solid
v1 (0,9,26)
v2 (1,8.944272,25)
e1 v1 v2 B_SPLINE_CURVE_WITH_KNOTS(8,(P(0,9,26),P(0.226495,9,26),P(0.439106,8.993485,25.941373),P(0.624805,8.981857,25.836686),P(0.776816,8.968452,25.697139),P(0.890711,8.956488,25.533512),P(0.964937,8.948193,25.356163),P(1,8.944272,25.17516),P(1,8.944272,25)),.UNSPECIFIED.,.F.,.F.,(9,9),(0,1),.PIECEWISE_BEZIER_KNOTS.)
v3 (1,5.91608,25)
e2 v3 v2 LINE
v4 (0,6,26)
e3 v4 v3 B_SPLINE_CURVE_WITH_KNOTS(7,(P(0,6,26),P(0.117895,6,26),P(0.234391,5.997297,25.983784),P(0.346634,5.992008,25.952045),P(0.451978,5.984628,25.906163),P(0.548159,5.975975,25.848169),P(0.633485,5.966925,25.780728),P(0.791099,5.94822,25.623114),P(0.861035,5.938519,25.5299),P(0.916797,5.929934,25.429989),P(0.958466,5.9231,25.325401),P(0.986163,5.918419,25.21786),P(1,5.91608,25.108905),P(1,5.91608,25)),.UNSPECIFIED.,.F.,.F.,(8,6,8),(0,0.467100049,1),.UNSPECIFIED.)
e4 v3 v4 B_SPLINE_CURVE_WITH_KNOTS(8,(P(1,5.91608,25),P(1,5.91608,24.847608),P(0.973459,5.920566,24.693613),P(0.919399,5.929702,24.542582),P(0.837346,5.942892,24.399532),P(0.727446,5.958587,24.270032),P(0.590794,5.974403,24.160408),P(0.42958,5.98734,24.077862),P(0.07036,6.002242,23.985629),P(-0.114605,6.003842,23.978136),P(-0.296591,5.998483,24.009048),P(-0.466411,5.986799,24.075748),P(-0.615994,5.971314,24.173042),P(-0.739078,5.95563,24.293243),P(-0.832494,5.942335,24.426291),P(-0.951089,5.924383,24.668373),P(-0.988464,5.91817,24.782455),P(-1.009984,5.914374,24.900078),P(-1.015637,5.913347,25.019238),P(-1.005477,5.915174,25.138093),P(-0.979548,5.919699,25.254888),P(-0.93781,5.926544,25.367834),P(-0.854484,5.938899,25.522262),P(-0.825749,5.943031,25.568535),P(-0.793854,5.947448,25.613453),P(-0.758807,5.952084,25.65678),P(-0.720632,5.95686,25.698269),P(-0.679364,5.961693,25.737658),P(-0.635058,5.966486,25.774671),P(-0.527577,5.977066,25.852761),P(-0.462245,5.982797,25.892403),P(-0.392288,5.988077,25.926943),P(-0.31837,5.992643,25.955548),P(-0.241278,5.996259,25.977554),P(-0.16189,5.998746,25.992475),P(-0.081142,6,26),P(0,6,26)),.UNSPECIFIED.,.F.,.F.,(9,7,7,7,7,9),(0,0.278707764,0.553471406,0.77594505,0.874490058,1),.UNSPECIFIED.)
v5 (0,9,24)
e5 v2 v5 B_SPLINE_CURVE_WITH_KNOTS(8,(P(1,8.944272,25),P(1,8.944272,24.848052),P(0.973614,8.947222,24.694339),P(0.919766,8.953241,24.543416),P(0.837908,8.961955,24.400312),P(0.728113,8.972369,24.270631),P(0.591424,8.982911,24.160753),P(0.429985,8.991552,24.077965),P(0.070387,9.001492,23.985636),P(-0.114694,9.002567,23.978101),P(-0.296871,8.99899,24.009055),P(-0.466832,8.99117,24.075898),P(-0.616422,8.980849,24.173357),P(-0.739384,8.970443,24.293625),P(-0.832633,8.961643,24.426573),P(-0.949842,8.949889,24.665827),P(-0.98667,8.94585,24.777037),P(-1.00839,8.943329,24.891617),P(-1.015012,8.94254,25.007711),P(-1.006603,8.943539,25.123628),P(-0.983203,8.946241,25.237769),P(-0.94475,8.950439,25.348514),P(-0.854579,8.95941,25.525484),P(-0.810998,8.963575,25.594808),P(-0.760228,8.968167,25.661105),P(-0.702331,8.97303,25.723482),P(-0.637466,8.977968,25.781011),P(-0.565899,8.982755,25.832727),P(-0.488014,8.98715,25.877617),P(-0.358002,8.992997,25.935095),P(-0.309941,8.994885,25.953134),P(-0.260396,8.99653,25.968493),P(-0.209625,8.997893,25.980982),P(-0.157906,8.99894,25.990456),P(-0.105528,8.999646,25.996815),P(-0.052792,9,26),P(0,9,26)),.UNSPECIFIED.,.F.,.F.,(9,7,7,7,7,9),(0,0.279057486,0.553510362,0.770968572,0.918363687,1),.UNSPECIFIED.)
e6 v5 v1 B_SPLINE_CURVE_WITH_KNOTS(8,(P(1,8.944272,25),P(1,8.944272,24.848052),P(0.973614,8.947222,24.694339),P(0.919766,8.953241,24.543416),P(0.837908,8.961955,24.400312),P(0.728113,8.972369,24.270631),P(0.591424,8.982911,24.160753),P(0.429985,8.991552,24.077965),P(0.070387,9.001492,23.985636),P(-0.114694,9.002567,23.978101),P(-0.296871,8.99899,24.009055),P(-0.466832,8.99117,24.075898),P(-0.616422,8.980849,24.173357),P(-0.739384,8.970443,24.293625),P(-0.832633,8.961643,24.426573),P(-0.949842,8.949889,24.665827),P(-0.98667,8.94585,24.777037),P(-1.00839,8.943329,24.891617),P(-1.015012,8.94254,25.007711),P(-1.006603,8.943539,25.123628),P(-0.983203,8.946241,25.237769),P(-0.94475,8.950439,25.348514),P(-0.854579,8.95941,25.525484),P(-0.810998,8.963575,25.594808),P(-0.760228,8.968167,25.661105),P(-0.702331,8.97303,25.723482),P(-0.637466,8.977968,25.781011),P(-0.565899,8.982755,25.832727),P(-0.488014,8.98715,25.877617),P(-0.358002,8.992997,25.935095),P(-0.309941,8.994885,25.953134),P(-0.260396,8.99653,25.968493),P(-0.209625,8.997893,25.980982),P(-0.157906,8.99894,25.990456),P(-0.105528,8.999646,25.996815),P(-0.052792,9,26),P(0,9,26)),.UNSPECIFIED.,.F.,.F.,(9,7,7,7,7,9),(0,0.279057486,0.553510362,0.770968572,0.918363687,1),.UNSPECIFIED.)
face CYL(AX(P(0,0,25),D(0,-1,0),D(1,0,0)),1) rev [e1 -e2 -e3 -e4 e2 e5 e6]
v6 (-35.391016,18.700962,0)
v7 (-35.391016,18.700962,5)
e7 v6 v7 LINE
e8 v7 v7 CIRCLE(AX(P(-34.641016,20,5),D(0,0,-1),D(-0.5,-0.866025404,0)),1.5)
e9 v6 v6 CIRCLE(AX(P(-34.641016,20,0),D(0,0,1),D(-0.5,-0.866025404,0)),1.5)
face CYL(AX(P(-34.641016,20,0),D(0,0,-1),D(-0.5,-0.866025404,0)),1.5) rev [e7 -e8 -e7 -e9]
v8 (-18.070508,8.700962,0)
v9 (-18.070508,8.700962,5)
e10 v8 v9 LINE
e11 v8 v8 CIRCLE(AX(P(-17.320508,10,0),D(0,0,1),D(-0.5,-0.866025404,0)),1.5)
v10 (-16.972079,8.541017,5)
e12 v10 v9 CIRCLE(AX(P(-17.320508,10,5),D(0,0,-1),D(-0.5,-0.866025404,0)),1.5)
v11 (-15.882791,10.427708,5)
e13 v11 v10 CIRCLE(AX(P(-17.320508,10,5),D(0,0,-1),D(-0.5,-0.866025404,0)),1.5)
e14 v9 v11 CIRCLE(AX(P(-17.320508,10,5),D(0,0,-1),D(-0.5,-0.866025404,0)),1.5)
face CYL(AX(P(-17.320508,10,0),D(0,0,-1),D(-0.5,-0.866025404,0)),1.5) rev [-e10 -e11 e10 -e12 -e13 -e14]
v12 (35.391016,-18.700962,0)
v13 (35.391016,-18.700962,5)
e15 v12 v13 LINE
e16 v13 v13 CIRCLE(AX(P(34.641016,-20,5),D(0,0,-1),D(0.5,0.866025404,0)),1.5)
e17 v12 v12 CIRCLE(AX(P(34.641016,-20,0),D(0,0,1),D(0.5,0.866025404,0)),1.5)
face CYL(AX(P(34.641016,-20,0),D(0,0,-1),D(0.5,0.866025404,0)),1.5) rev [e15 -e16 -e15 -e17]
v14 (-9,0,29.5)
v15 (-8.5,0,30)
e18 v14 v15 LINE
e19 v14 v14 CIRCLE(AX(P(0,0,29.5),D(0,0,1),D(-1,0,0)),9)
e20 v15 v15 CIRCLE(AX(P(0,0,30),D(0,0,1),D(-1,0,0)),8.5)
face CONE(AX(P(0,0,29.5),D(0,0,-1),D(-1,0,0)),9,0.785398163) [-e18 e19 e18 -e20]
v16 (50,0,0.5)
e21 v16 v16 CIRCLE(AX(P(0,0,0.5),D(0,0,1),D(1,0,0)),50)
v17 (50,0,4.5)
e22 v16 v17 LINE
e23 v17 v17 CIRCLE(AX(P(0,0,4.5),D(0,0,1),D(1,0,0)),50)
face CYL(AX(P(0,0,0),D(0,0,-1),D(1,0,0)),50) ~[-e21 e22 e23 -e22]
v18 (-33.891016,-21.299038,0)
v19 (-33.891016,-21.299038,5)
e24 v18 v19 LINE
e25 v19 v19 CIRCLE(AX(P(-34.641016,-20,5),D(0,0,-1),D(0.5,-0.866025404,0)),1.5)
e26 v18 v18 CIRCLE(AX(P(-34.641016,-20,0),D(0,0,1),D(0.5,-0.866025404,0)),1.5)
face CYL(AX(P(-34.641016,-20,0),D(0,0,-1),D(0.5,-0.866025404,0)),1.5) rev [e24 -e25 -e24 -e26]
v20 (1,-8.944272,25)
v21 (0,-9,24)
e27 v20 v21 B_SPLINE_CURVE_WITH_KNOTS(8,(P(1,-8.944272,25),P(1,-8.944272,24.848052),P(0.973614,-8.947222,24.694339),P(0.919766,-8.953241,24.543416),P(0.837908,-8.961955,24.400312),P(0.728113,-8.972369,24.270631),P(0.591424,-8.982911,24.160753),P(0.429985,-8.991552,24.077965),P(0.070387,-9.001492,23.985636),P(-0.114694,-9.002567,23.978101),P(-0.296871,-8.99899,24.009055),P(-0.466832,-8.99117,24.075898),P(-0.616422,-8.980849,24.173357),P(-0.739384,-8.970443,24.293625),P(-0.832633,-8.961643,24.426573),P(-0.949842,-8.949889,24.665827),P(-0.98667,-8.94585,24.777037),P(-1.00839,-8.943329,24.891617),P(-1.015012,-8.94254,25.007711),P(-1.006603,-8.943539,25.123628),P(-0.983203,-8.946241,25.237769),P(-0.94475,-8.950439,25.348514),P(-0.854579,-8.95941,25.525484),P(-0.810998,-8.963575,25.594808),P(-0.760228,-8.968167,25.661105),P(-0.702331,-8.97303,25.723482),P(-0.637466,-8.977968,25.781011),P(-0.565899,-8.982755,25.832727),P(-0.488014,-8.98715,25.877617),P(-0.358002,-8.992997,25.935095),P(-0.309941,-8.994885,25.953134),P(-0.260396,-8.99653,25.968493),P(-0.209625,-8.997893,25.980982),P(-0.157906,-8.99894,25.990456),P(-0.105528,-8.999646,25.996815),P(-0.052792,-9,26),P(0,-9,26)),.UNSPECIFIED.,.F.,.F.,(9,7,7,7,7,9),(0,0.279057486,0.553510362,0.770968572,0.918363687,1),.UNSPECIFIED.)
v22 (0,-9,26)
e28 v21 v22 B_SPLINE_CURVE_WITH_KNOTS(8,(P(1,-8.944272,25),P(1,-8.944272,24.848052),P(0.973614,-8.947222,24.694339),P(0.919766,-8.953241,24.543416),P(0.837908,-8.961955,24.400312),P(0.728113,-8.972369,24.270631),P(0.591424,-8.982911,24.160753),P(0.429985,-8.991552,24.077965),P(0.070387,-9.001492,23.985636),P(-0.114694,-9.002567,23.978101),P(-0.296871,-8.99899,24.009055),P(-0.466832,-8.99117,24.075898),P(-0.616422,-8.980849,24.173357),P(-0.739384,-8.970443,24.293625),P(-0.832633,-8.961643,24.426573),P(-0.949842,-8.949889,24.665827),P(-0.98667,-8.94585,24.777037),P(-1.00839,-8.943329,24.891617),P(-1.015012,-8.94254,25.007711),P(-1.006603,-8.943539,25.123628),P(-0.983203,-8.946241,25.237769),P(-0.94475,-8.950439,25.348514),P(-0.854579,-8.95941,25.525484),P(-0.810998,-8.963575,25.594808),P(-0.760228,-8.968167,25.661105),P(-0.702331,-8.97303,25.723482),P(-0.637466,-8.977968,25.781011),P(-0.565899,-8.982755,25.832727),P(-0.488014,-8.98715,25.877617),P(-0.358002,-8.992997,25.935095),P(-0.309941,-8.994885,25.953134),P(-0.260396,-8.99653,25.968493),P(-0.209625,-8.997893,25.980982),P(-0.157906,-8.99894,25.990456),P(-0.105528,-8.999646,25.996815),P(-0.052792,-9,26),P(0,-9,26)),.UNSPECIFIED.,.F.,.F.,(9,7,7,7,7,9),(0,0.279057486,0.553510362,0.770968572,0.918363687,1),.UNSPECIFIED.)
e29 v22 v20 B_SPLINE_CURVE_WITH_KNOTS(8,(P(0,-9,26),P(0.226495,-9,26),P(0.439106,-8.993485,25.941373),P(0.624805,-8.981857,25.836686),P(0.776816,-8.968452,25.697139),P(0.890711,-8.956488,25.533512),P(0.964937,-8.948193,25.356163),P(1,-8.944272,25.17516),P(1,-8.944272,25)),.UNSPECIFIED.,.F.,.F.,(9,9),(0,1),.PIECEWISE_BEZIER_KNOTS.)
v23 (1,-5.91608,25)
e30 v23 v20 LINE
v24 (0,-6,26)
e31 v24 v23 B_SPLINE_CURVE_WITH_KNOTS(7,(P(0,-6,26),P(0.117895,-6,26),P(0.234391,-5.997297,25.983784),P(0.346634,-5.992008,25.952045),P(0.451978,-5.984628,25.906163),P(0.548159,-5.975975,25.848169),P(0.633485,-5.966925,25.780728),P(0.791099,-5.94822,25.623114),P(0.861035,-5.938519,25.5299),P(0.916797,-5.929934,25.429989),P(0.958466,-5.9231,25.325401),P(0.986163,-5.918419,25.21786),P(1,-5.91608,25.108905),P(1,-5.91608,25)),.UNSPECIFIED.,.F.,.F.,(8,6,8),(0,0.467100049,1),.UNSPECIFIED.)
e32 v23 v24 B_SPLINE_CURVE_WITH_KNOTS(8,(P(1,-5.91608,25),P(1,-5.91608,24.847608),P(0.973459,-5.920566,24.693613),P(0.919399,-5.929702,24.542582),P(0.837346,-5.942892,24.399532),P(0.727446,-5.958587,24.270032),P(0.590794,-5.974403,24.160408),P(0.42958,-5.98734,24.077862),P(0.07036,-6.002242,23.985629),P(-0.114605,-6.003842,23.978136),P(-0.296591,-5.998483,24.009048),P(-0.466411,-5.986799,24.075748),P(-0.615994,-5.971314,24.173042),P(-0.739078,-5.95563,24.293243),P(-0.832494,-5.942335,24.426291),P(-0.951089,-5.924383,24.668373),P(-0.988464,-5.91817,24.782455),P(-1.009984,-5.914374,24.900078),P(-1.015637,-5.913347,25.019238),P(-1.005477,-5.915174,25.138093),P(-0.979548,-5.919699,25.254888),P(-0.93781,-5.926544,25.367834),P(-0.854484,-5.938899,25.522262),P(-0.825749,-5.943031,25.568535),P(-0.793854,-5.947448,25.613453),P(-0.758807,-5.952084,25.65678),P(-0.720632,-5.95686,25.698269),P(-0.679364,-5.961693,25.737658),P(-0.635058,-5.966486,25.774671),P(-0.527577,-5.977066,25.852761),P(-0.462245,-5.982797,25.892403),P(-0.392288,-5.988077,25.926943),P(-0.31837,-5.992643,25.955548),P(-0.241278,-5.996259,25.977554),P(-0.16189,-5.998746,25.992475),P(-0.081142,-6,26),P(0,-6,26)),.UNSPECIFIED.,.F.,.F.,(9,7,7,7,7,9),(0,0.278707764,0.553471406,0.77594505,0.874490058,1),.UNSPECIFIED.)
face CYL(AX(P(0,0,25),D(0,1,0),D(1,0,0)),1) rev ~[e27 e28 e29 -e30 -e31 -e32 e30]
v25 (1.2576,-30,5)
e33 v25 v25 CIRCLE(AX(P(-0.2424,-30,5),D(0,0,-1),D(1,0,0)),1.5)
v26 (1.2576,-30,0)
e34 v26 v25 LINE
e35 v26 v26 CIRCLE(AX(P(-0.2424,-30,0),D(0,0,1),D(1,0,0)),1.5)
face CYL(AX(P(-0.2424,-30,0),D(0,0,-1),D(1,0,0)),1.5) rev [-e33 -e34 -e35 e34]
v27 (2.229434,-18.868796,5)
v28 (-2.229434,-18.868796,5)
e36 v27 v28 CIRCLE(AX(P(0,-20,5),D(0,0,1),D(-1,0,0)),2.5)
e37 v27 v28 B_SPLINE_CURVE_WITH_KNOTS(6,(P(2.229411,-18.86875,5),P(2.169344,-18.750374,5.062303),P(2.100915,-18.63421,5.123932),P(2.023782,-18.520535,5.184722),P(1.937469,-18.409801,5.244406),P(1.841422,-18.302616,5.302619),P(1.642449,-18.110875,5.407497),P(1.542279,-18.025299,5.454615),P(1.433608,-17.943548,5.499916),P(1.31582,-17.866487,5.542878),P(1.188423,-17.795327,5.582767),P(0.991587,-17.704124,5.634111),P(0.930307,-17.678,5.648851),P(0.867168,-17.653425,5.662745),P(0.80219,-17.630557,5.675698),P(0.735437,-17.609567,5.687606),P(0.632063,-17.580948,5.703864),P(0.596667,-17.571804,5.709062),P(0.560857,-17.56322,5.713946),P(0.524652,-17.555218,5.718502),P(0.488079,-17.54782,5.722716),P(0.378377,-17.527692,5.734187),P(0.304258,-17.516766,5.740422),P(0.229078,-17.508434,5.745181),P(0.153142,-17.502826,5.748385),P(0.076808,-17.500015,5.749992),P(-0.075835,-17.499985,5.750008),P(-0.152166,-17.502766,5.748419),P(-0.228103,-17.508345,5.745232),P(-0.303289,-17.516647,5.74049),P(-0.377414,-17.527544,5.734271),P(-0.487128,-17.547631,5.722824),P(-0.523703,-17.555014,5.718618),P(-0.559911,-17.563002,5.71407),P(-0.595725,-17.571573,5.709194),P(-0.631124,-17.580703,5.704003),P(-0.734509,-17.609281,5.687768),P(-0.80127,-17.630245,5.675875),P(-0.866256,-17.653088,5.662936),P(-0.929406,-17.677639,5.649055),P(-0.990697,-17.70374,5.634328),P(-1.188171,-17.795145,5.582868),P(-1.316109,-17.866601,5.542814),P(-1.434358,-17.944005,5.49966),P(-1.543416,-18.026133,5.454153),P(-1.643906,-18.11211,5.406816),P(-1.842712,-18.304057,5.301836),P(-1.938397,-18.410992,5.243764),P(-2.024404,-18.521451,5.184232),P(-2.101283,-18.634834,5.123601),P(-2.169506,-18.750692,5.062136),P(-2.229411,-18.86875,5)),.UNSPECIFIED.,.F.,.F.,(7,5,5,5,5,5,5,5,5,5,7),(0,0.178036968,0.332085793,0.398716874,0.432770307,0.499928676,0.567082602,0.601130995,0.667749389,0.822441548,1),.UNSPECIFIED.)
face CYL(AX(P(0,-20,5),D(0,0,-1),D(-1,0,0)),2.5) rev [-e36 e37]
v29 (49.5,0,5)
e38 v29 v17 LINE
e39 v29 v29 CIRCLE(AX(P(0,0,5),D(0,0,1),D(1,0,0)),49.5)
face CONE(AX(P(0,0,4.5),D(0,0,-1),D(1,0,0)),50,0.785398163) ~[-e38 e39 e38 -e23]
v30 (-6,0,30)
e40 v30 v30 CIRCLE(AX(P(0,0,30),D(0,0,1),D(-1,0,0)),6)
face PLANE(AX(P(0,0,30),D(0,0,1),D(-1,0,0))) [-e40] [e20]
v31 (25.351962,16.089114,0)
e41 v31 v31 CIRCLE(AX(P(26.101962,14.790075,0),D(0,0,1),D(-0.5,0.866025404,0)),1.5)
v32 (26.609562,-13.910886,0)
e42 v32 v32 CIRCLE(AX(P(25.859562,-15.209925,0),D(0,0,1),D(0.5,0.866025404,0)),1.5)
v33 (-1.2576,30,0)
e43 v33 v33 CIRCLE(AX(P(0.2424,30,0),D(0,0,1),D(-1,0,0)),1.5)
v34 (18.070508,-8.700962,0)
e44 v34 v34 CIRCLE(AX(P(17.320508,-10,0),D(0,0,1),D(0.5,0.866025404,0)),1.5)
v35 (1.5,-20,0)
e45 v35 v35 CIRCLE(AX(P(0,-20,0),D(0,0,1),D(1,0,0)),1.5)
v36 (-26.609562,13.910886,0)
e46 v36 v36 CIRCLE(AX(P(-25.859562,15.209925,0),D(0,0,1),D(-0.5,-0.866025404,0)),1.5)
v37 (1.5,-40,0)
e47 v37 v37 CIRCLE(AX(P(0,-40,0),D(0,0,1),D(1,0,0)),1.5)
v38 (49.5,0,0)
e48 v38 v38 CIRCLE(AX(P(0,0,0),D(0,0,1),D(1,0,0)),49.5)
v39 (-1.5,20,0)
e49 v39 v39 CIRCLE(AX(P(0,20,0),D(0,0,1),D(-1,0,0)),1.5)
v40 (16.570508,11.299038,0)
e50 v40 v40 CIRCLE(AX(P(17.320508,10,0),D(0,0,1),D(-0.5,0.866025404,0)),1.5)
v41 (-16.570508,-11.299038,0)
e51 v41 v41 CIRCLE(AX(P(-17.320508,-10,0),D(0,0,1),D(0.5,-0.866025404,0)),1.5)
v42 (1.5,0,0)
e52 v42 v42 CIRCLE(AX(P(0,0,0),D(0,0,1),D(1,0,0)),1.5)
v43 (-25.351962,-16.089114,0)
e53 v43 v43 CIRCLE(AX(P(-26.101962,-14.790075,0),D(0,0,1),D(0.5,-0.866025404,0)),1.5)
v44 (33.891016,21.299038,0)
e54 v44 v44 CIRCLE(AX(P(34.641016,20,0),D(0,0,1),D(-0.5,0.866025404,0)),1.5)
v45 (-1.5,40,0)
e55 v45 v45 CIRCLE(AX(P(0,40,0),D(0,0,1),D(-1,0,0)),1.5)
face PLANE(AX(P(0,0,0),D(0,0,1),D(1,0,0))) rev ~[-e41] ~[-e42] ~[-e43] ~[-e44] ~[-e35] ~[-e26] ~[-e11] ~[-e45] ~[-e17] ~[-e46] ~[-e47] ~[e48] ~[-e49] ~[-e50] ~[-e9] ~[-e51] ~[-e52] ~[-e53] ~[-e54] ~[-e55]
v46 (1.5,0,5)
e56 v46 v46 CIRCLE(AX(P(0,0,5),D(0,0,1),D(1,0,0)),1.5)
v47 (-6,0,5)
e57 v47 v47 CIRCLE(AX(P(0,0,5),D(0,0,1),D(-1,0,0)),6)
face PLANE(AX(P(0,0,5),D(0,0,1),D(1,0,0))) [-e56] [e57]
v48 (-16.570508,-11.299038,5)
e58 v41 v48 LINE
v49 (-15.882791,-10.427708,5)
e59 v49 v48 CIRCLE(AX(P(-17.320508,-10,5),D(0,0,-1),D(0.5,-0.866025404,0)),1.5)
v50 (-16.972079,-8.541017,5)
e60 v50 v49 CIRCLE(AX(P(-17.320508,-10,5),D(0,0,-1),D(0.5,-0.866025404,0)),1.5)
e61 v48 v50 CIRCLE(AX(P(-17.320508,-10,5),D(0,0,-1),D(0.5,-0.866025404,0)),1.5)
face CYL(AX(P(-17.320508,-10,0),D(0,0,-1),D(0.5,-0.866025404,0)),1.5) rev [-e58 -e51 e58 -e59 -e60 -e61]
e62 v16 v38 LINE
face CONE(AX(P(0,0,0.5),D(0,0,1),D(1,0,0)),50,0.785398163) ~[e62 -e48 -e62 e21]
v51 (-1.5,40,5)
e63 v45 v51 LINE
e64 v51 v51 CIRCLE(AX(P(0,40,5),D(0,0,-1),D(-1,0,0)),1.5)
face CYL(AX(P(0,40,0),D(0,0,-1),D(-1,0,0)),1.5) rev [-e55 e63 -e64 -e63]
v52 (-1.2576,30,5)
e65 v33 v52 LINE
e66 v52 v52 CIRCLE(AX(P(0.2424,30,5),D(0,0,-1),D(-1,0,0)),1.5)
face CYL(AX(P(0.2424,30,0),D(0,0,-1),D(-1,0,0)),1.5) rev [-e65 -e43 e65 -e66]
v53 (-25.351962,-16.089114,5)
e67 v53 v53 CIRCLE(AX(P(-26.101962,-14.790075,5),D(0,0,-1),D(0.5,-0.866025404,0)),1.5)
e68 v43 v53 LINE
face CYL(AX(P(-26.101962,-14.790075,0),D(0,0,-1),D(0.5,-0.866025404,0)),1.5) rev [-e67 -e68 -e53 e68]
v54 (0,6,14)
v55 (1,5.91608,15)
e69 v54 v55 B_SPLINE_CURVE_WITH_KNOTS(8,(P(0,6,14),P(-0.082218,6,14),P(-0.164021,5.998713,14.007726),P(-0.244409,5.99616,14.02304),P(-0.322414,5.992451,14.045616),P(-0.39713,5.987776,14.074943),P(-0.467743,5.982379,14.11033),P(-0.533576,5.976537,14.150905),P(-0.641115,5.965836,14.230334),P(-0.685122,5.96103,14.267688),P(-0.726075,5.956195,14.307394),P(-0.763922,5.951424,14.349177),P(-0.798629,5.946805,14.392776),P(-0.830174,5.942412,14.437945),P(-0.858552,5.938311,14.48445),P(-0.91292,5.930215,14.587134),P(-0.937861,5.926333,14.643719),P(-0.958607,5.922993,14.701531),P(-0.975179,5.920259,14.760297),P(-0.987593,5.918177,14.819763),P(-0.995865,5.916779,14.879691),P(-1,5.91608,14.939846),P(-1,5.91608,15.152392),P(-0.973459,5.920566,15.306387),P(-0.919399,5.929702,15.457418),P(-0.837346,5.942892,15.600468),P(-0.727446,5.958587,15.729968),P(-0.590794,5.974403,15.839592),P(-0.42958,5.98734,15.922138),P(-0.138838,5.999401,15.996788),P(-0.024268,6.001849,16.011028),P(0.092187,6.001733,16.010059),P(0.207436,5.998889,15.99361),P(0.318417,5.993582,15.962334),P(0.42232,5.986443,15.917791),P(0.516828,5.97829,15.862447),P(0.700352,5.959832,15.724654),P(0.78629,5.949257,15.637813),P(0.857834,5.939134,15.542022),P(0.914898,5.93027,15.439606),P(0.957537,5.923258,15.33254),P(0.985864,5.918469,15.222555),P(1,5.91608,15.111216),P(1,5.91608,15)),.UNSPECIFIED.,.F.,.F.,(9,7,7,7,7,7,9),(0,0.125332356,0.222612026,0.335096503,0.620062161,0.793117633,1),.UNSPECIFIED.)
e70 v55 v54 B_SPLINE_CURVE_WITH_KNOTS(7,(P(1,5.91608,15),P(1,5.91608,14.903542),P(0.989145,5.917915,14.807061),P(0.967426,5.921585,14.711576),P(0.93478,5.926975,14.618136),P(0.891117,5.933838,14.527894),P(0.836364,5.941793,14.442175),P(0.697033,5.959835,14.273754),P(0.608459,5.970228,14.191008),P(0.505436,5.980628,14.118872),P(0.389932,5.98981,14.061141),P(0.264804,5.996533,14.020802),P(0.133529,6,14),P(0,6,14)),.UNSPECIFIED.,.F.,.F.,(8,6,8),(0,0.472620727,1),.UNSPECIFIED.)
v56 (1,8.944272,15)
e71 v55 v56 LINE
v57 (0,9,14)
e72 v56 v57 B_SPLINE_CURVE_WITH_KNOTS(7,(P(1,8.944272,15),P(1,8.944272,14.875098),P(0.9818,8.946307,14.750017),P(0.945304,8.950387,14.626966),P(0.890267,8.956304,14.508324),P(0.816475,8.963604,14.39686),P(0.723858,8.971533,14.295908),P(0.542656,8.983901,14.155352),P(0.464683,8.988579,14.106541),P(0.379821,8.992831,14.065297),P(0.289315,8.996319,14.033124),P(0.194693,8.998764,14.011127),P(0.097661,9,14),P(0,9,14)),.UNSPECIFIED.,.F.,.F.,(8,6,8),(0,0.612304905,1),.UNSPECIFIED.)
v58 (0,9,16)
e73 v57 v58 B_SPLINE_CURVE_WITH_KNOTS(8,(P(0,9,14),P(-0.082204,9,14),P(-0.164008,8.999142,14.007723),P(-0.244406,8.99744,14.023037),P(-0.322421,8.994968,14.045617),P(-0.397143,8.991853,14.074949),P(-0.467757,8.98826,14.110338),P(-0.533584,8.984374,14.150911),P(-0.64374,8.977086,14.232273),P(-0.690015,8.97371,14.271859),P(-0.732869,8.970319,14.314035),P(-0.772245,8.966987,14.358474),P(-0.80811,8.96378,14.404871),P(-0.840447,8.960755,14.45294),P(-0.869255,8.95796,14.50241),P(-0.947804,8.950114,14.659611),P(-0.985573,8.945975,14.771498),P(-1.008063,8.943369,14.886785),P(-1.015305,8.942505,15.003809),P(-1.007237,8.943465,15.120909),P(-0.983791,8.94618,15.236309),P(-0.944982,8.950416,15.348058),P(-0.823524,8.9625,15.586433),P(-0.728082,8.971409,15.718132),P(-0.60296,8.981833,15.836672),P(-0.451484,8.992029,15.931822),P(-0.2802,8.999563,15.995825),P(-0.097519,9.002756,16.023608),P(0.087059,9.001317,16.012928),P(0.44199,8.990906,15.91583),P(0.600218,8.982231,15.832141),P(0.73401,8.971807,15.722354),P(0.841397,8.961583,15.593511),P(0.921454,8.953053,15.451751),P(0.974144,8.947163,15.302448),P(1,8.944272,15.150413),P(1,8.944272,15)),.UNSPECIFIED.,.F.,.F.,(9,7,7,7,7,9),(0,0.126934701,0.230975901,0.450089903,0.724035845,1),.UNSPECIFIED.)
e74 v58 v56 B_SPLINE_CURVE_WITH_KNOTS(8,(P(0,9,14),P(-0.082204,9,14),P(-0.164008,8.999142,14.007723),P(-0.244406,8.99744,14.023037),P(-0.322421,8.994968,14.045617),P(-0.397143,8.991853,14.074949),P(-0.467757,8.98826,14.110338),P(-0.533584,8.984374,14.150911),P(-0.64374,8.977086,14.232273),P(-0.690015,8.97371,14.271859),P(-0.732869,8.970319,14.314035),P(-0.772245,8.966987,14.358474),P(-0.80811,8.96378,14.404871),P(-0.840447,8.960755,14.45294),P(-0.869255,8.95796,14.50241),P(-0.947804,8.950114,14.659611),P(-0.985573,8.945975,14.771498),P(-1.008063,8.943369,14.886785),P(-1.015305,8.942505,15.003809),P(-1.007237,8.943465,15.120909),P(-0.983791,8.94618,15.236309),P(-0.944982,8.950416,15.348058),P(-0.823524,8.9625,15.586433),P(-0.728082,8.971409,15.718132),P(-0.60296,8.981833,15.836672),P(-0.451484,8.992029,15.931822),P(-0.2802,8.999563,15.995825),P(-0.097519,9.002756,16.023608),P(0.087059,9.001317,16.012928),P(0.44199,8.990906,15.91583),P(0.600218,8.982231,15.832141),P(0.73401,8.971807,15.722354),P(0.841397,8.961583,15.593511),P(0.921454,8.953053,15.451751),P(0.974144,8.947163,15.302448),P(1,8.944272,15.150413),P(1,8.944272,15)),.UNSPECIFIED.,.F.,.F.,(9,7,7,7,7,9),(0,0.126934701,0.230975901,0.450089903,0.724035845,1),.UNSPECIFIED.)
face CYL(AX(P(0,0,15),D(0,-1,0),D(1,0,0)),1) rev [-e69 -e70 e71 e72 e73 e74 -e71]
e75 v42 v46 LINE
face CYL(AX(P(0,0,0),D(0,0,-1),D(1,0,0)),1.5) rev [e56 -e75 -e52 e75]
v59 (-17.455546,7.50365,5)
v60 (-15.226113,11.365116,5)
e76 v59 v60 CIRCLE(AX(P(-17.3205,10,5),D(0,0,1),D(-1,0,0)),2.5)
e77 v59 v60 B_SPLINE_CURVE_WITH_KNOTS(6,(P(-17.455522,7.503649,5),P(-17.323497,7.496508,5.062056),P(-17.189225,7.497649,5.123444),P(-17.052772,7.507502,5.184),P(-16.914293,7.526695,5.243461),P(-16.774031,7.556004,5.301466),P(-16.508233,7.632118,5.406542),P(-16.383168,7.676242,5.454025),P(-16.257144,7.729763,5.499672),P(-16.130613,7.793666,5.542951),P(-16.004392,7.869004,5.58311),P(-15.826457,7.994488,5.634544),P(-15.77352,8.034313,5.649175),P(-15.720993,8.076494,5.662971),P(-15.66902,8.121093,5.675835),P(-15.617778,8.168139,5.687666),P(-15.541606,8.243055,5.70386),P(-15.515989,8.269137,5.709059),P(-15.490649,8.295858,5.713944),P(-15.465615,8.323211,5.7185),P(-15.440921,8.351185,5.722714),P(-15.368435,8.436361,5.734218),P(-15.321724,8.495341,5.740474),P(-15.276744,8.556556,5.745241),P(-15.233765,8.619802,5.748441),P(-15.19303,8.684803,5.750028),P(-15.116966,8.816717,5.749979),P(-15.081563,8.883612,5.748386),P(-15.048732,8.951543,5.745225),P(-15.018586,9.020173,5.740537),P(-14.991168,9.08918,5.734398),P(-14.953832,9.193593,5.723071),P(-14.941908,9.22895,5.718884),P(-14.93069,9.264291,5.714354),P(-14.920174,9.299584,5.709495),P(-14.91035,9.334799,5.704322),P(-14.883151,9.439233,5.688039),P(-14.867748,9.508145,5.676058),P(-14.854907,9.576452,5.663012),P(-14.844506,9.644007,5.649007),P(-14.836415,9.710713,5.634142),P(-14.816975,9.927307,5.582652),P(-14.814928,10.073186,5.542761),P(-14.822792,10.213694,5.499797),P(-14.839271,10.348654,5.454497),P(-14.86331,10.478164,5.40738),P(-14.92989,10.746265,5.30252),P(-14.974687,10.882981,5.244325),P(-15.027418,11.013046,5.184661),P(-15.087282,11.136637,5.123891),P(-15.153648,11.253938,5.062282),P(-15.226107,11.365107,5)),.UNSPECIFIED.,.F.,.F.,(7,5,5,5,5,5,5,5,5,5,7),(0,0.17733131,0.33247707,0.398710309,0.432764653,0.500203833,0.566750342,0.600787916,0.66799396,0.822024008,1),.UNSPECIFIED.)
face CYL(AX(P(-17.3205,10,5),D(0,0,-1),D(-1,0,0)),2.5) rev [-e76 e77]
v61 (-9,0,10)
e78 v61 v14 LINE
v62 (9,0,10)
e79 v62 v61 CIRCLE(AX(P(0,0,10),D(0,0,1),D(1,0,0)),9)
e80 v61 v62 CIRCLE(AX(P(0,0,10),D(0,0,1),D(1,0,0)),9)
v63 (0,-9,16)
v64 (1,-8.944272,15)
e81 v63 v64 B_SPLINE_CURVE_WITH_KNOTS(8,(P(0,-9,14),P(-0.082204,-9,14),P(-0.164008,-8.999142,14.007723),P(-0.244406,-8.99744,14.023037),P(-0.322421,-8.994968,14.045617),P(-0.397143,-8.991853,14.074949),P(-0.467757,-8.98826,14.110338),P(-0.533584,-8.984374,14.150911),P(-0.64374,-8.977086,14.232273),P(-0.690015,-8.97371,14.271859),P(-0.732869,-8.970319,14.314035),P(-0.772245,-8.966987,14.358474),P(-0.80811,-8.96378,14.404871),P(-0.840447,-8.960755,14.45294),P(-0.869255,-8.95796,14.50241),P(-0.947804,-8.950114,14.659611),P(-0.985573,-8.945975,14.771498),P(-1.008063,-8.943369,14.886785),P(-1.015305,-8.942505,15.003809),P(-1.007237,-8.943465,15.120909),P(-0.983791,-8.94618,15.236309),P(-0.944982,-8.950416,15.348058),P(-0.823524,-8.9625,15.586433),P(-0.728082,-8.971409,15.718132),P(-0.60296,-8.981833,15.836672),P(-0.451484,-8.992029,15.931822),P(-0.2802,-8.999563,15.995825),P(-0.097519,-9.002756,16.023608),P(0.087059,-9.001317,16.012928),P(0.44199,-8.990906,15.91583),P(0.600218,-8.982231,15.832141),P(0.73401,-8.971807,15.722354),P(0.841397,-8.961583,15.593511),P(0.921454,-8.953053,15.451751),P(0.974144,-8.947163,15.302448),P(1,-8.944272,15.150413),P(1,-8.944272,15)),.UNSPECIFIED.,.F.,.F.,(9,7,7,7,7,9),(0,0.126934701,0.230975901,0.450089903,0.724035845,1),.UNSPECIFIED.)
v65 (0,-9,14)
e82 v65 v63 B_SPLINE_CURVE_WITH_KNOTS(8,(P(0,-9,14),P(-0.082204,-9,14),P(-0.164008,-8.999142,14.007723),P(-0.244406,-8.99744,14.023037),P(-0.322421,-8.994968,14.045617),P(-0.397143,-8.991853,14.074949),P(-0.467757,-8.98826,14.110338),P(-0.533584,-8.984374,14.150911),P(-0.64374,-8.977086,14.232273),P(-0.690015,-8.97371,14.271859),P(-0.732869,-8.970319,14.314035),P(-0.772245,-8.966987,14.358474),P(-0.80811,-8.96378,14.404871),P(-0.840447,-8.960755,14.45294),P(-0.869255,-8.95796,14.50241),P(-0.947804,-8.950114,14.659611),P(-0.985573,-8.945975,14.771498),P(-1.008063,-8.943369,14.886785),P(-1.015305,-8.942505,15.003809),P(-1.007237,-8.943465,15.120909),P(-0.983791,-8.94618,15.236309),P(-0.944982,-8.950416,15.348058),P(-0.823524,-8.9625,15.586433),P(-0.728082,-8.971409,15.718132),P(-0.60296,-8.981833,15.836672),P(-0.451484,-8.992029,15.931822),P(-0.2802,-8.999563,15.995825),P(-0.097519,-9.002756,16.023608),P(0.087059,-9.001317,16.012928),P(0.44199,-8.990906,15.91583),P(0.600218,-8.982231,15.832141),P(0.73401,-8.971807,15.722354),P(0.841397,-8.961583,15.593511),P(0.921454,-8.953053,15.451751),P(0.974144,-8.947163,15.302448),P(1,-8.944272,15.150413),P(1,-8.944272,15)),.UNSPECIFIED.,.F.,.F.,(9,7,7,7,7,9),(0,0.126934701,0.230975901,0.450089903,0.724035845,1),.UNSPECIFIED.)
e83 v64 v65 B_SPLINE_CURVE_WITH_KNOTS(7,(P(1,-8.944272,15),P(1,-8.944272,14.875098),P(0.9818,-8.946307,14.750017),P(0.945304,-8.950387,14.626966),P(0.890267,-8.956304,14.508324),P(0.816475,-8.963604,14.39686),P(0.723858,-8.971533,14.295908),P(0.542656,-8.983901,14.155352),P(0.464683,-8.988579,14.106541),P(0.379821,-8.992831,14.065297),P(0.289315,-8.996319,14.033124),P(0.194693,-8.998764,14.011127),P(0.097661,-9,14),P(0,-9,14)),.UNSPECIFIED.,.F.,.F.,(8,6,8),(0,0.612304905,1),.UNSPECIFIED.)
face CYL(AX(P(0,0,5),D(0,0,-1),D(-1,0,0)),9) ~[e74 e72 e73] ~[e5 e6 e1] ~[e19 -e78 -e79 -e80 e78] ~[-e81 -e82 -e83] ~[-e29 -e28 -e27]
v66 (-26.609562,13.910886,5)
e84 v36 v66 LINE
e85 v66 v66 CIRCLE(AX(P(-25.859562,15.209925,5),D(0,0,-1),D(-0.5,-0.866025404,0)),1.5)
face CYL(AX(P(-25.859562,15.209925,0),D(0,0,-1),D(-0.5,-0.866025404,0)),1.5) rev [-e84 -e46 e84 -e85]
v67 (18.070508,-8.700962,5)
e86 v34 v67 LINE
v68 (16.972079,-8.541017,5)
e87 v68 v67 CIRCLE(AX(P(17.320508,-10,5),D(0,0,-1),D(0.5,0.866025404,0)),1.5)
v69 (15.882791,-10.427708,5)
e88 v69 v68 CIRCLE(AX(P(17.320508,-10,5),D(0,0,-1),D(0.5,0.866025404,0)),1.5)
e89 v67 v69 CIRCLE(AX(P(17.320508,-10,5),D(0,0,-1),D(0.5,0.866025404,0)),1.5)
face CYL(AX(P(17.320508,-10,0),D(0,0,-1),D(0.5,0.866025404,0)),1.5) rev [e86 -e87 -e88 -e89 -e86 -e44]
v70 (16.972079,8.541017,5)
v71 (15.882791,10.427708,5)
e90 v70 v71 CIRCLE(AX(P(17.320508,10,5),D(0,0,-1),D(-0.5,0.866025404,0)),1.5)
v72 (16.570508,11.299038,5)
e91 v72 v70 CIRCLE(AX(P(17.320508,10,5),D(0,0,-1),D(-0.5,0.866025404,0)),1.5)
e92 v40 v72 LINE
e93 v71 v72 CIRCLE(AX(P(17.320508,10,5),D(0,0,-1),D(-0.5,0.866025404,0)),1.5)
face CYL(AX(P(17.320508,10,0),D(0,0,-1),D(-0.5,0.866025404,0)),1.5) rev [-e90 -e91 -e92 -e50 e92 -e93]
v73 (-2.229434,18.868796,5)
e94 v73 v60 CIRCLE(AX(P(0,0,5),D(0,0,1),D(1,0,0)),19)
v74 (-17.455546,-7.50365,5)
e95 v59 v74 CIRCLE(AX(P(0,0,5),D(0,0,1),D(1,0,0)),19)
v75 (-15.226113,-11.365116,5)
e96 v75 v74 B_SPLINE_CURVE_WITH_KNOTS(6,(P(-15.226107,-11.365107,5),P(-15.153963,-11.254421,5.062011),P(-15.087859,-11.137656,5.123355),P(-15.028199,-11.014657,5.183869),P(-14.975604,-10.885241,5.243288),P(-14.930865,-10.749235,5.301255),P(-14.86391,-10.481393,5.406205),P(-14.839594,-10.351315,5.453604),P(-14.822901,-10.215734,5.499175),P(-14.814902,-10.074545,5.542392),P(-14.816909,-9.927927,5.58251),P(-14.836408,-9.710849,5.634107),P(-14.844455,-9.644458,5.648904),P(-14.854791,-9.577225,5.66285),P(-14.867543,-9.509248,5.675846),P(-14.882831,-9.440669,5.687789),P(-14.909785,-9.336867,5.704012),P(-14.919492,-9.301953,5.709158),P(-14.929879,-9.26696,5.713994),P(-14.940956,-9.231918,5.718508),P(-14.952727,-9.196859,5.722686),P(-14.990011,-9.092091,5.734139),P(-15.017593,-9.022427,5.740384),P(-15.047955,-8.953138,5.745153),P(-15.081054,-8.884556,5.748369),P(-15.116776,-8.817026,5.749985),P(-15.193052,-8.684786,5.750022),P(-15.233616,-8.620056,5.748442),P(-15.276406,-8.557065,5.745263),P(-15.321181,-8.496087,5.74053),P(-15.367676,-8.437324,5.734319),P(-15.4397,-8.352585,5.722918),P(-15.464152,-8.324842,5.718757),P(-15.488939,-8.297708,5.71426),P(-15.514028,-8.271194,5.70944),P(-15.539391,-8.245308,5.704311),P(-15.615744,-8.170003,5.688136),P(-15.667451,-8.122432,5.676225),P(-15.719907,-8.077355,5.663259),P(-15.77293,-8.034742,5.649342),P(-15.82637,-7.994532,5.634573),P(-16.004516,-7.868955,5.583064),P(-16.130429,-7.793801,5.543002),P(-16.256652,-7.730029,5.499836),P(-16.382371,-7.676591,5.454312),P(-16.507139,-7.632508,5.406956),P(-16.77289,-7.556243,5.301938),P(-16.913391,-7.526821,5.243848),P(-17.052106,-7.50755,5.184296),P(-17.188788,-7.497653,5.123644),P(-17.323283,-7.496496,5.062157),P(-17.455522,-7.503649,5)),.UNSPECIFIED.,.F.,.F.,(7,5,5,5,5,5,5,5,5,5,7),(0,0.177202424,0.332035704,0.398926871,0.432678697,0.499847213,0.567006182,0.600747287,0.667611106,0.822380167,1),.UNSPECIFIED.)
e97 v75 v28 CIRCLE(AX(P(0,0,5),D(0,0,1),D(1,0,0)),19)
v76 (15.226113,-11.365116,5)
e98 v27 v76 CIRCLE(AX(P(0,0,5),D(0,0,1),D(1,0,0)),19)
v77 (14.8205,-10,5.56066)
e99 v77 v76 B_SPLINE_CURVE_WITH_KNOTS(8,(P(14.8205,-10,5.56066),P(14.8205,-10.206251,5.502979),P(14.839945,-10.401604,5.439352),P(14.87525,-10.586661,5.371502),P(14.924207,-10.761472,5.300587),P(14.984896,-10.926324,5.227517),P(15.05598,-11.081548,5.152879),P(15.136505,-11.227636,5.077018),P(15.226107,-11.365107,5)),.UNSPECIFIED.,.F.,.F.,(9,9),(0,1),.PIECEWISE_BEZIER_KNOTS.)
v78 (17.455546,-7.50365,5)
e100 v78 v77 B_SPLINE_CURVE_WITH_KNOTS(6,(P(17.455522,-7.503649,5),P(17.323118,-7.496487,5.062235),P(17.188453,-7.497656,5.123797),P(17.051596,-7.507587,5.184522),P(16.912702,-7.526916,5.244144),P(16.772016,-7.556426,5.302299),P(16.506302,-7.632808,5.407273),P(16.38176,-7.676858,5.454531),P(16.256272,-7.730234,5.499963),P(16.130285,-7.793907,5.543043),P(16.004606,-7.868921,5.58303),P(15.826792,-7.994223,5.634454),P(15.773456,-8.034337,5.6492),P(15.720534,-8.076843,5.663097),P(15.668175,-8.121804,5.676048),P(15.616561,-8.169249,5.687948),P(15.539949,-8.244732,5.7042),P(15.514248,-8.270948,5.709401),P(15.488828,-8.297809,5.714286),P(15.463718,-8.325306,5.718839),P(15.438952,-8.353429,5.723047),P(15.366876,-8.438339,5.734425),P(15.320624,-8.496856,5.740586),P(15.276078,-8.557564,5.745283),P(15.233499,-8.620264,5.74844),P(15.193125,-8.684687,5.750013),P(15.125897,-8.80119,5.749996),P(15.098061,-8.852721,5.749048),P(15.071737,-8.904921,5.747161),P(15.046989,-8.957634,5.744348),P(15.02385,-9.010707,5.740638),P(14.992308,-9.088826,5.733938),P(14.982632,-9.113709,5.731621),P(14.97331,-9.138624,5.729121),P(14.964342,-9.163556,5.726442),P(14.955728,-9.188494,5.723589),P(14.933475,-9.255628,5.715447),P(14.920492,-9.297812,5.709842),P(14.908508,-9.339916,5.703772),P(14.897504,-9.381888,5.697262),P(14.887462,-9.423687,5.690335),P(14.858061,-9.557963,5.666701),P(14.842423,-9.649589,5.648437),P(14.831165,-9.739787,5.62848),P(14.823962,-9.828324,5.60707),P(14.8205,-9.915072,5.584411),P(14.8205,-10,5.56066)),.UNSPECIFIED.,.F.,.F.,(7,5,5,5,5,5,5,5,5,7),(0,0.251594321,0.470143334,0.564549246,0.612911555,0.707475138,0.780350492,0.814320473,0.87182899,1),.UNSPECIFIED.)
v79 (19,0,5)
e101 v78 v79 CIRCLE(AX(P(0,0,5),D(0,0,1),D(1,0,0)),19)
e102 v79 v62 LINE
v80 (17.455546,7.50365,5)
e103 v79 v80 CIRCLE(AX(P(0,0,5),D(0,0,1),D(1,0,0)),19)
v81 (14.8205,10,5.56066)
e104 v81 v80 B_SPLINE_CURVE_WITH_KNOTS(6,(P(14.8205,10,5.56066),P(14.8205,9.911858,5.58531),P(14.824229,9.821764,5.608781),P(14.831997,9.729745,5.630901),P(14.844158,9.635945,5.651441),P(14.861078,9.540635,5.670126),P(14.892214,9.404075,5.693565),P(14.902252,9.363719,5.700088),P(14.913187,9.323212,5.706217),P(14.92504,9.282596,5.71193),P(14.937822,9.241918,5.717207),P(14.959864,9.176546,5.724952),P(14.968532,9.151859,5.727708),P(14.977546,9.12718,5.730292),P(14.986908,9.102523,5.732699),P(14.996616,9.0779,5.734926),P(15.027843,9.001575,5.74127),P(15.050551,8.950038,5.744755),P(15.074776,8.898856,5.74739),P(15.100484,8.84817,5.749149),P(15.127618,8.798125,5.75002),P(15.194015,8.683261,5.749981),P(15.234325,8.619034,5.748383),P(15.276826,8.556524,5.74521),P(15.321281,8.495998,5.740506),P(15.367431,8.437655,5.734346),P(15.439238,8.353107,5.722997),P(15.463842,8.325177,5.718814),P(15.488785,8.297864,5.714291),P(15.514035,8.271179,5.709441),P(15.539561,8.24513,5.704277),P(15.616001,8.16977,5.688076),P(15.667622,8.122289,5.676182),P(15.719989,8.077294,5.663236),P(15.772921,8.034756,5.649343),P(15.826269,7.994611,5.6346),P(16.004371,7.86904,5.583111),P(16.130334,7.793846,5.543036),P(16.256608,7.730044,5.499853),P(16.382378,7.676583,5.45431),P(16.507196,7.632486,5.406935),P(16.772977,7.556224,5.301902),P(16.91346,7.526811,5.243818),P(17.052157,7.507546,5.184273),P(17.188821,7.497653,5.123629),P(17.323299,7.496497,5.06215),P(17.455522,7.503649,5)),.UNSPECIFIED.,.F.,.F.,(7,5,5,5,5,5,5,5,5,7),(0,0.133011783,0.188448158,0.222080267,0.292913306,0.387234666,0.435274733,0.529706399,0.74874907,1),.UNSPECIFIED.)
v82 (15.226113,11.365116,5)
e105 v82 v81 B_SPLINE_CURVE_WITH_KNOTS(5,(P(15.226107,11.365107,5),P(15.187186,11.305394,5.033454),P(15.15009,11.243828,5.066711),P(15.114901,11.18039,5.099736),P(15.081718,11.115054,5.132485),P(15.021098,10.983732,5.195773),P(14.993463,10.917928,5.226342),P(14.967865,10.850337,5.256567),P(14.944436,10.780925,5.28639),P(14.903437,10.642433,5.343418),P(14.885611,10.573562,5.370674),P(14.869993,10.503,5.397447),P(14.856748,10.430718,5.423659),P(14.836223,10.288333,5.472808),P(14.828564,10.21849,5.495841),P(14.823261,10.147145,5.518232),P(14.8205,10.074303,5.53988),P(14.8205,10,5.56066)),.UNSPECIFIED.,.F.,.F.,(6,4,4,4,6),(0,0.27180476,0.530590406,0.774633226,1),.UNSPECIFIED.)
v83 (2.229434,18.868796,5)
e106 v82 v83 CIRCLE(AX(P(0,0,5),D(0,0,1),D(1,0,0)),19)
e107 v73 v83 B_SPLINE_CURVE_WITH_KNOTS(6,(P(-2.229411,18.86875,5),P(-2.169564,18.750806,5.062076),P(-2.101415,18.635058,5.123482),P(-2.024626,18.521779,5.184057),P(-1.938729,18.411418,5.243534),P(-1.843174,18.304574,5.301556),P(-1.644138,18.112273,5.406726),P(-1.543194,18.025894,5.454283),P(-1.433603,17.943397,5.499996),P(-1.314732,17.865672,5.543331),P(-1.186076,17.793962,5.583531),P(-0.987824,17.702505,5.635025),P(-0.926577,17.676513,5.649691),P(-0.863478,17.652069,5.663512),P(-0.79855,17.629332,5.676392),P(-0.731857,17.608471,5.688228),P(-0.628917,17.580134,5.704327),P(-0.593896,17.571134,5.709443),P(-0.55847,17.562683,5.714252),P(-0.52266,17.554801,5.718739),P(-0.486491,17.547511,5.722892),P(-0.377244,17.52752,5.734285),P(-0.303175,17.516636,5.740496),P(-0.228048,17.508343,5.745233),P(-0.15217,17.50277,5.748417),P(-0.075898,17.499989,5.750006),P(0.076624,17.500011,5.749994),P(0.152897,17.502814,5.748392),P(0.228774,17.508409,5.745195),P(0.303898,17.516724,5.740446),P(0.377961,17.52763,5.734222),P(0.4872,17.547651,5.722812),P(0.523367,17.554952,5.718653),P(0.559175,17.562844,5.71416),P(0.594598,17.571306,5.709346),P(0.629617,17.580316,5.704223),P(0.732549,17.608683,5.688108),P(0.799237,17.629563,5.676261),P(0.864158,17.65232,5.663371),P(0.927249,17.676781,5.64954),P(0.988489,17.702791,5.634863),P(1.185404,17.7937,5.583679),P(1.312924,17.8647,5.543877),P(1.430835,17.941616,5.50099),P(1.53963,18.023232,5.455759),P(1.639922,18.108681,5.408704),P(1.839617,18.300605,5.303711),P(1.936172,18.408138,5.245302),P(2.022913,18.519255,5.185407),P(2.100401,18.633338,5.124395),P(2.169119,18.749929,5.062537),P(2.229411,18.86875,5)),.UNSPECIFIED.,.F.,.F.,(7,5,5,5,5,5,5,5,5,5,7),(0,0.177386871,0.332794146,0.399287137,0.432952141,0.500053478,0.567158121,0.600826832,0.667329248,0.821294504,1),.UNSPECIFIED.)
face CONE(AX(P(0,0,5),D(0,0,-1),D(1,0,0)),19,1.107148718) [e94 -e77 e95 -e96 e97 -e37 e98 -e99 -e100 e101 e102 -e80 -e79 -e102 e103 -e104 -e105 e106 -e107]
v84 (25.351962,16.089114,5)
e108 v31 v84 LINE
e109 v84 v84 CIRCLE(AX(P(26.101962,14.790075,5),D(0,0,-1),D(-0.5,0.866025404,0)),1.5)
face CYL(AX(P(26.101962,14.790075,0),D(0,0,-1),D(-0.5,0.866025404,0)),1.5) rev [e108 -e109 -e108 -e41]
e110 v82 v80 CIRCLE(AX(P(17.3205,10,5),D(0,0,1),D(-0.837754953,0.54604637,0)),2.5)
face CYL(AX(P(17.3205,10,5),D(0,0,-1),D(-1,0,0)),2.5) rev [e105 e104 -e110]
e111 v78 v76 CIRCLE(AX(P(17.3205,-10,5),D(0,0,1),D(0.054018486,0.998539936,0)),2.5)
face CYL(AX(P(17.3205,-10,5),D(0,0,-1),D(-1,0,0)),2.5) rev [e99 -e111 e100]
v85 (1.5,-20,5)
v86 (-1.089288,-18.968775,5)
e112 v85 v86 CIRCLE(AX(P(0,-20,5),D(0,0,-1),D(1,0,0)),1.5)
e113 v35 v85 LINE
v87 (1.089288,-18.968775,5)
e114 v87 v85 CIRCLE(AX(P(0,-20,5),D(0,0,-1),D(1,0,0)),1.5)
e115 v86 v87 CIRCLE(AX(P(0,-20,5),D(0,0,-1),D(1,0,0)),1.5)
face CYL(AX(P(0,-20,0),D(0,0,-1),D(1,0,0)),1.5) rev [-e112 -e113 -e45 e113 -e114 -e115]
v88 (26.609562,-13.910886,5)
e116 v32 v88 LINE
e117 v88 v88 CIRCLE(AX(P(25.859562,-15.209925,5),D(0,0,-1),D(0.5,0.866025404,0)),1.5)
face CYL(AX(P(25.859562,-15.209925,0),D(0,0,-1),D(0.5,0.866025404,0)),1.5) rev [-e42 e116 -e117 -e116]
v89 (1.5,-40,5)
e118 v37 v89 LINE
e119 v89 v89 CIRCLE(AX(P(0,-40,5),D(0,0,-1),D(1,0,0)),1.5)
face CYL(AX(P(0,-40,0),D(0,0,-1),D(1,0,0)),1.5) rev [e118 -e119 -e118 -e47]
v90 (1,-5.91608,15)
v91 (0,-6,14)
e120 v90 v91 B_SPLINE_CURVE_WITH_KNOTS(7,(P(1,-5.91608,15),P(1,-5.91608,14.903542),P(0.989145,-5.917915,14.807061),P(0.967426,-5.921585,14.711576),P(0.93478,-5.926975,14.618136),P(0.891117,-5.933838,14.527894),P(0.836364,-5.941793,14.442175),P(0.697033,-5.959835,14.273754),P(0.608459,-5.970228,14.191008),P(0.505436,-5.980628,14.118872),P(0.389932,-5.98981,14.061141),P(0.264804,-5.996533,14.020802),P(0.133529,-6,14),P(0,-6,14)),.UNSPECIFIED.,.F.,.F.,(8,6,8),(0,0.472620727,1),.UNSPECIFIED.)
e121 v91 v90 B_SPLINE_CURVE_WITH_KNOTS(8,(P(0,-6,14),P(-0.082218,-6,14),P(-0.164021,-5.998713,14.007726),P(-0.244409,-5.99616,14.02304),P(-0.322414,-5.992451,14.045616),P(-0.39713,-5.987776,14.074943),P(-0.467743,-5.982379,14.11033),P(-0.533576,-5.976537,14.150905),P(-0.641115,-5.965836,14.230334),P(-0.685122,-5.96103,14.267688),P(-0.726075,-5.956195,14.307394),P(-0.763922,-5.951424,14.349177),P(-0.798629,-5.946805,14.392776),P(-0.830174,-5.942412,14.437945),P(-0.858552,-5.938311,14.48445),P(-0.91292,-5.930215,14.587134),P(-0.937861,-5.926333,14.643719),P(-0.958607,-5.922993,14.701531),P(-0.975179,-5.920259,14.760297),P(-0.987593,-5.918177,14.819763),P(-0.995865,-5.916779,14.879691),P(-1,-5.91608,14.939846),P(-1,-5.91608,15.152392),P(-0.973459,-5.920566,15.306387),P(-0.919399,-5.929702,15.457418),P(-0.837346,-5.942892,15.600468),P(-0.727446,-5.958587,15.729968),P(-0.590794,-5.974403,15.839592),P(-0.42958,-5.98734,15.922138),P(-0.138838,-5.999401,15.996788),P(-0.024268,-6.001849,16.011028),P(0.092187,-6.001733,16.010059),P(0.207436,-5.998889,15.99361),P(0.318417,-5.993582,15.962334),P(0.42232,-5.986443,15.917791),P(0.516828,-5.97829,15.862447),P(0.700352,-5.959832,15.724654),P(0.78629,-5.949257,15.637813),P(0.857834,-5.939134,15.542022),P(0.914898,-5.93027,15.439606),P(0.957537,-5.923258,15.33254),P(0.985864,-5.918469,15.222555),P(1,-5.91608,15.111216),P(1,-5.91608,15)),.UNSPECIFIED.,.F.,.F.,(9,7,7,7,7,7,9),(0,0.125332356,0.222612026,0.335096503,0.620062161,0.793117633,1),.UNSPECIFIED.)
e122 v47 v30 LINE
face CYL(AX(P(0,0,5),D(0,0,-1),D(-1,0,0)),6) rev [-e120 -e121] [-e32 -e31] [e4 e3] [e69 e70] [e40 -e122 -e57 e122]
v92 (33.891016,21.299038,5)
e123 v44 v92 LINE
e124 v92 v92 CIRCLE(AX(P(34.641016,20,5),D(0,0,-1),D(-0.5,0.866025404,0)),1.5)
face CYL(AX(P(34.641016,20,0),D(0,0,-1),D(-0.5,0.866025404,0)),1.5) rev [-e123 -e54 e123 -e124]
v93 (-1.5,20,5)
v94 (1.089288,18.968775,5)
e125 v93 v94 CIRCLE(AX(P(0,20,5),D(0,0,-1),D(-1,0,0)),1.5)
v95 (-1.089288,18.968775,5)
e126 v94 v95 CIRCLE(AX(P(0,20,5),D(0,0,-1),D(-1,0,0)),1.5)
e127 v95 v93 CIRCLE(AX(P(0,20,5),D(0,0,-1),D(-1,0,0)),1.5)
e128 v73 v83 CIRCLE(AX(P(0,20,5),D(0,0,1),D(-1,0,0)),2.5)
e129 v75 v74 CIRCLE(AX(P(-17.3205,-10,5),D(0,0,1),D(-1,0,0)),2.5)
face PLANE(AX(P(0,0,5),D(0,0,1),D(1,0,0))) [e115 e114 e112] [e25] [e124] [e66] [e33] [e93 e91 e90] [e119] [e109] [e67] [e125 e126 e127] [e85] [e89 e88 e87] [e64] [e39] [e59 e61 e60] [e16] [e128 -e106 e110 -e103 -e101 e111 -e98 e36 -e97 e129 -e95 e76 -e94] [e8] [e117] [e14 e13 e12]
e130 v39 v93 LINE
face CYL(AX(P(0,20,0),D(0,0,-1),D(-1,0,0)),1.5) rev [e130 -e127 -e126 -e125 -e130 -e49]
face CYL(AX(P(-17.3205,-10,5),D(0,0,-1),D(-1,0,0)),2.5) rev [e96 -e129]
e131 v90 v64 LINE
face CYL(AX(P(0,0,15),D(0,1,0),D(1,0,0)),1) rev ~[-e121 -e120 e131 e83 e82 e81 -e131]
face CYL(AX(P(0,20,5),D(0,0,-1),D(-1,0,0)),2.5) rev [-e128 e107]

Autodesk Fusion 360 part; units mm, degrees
sketch "スケッチ1" plane through (0, 0, 0) normal (0, 0, 1) x (1, 0, 0)
  circle A0 centre (0, 0) radius 50
  dimension "d1" = 100
extrude "押し出し1" add sketch "スケッチ1" along normal blind 5
sketch "スケッチ2" plane through (0, 0, 5) normal (0, 0, 1) x (-1, 0, 0)
  circle A0 centre (0, 0) radius 50
  circle A1 centre (0, 0) radius 9
  circle A2 centre (0, 0) radius 6
  dimension "d4" = 18
  dimension "d5" = 12
extrude "押し出し2" add sketch "スケッチ2" along normal blind 25 contours A1
sketch "スケッチ3" plane through (0, 0, 0) normal (0, 1, 0) x (1, 0, 0)
  line L0 (9, -5) -> (9, -10)
  line L1 (9, -5) -> (19, -5)
  line L2 (19, -5) -> (9, -10)
revolve "回転1" add sketch "スケッチ3" angle 360 about axis through (0, 0, 1.75) along (0, 0, 1)
chamfer "面取り1" distance 0.5 angle 45 3 edges at (-46.6164, -18.0808, 0) (-46.6164, -18.0808, 5) (8.3909, 3.2545, 30)
sketch "スケッチ4" plane through (0, 0, 0) normal (0, 1, 0) x (1, 0, 0)
  line L0 (0, -30) -> (0, -25)
  line L1 (0, -10) -> (0, -15)
  circle A0 centre (0, -25) radius 1
  circle A1 centre (0, -15) radius 1
  dimension "d10" = 2
  dimension "d11" = 2
extrude "押し出し3" cut sketch "スケッチ4" along normal blind 9 and the other way blind 9
sketch "スケッチ5" plane through (0, 0, 0) normal (0, 0, 1) x (1, 0, 0)
  circle A0 centre (0, -40) radius 1.5
  circle A1 centre (-0.2424, -30) radius 1.5
  circle A2 centre (0, -20) radius 1.5
  point P0 (0, -20)
  point P1 (0, -30)
  point P2 (0, -40)
  dimension "d16" = 3
  dimension "d17" = 3
  dimension "d18" = 3
extrude "押し出し4" cut sketch "スケッチ5" along normal blind 6
pattern_circular "C パターン1" count 6 over 360 about axis through (0, 0, 1.75) along (0, 0, 1) of 3 faces at (-1.4095, -39.487, 3.3333) (1.2502, -29.8506, 3.3333) (-1.1427, -19.0283, 3.3333)
sketch "スケッチ6" plane through (0, 0, 0) normal (0, 0, 1) x (1, 0, 0)
  circle A0 centre (0, 0) radius 1.5
  dimension "d23" = 3
extrude "押し出し5" cut sketch "スケッチ6" along normal blind 5
sketch "スケッチ7" plane through (0, 0, 5) normal (0, 0, 1) x (-1, 0, 0)
  circle A0 centre (26.1019, 14.7901) radius 1.5
  circle A1 centre (25.8596, -15.2099) radius 1.5
  circle A2 centre (-0.2424, -30) radius 1.5
  circle A3 centre (-26.1019, -14.7901) radius 1.5
  circle A4 centre (-25.8596, 15.2099) radius 1.5
  circle A5 centre (34.641, 20) radius 1.5
  circle A6 centre (34.641, -20) radius 1.5
  circle A7 centre (0, -40) radius 1.5
  circle A8 centre (-34.641, -20) radius 1.5
  circle A9 centre (-34.641, 20) radius 1.5
  arc A10 (16.9721, 8.541) -> (15.8828, 10.4277) centre (17.3205, 10) ccw
  arc A11 (16.9721, -8.541) -> (16.9721, 8.541) centre (0, 0) ccw
  arc A12 (15.8828, -10.4277) -> (16.9721, -8.541) centre (17.3205, -10) ccw
  arc A13 (1.0893, -18.9688) -> (15.8828, -10.4277) centre (0, 0) ccw
  arc A14 (-1.0893, -18.9688) -> (1.0893, -18.9688) centre (0, -20) ccw
  arc A15 (-15.8828, -10.4277) -> (-1.0893, -18.9688) centre (0, 0) ccw
  arc A16 (-16.9721, -8.541) -> (-15.8828, -10.4277) centre (-17.3205, -10) ccw
  arc A17 (-16.9721, 8.541) -> (-16.9721, -8.541) centre (0, 0) ccw
  arc A18 (-15.8828, 10.4277) -> (-16.9721, 8.541) centre (-17.3205, 10) ccw
  arc A19 (-1.0893, 18.9688) -> (-15.8828, 10.4277) centre (0, 0) ccw
  arc A20 (1.0893, 18.9688) -> (-1.0893, 18.9688) centre (0, 20) ccw
  arc A21 (15.8828, 10.4277) -> (1.0893, 18.9688) centre (0, 0) ccw
  circle A22 centre (0.2424, 30) radius 1.5
  circle A23 centre (0, 40) radius 1.5
  circle A24 centre (0, 0) radius 49.5
  circle A25 centre (0, 20) radius 2.5
  circle A26 centre (-17.3205, 10) radius 2.5
  circle A27 centre (-17.3205, -10) radius 2.5
  circle A28 centre (0, -20) radius 2.5
  circle A29 centre (17.3205, -10) radius 2.5
  circle A30 centre (17.3205, 10) radius 2.5
  dimension "d26" = 5
  dimension "d28" = 360
extrude "押し出し6" cut sketch "スケッチ7" along normal blind 1 contours A10 A11 A21 A30 | A11 A12 A13 A29 | A19 A20 A21 A25 | A13 A14 A15 A28 | A17 A18 A19 A26 | A15 A16 A17 A27 picked at (16.0359, 9.1878) picked at (16.0359, -9.1878) picked at (0.2115, 19.7656) picked at (-0.2115, -19.7656) picked at (-16.0331, 9.192) picked at (-17.2117, -9.7715)
